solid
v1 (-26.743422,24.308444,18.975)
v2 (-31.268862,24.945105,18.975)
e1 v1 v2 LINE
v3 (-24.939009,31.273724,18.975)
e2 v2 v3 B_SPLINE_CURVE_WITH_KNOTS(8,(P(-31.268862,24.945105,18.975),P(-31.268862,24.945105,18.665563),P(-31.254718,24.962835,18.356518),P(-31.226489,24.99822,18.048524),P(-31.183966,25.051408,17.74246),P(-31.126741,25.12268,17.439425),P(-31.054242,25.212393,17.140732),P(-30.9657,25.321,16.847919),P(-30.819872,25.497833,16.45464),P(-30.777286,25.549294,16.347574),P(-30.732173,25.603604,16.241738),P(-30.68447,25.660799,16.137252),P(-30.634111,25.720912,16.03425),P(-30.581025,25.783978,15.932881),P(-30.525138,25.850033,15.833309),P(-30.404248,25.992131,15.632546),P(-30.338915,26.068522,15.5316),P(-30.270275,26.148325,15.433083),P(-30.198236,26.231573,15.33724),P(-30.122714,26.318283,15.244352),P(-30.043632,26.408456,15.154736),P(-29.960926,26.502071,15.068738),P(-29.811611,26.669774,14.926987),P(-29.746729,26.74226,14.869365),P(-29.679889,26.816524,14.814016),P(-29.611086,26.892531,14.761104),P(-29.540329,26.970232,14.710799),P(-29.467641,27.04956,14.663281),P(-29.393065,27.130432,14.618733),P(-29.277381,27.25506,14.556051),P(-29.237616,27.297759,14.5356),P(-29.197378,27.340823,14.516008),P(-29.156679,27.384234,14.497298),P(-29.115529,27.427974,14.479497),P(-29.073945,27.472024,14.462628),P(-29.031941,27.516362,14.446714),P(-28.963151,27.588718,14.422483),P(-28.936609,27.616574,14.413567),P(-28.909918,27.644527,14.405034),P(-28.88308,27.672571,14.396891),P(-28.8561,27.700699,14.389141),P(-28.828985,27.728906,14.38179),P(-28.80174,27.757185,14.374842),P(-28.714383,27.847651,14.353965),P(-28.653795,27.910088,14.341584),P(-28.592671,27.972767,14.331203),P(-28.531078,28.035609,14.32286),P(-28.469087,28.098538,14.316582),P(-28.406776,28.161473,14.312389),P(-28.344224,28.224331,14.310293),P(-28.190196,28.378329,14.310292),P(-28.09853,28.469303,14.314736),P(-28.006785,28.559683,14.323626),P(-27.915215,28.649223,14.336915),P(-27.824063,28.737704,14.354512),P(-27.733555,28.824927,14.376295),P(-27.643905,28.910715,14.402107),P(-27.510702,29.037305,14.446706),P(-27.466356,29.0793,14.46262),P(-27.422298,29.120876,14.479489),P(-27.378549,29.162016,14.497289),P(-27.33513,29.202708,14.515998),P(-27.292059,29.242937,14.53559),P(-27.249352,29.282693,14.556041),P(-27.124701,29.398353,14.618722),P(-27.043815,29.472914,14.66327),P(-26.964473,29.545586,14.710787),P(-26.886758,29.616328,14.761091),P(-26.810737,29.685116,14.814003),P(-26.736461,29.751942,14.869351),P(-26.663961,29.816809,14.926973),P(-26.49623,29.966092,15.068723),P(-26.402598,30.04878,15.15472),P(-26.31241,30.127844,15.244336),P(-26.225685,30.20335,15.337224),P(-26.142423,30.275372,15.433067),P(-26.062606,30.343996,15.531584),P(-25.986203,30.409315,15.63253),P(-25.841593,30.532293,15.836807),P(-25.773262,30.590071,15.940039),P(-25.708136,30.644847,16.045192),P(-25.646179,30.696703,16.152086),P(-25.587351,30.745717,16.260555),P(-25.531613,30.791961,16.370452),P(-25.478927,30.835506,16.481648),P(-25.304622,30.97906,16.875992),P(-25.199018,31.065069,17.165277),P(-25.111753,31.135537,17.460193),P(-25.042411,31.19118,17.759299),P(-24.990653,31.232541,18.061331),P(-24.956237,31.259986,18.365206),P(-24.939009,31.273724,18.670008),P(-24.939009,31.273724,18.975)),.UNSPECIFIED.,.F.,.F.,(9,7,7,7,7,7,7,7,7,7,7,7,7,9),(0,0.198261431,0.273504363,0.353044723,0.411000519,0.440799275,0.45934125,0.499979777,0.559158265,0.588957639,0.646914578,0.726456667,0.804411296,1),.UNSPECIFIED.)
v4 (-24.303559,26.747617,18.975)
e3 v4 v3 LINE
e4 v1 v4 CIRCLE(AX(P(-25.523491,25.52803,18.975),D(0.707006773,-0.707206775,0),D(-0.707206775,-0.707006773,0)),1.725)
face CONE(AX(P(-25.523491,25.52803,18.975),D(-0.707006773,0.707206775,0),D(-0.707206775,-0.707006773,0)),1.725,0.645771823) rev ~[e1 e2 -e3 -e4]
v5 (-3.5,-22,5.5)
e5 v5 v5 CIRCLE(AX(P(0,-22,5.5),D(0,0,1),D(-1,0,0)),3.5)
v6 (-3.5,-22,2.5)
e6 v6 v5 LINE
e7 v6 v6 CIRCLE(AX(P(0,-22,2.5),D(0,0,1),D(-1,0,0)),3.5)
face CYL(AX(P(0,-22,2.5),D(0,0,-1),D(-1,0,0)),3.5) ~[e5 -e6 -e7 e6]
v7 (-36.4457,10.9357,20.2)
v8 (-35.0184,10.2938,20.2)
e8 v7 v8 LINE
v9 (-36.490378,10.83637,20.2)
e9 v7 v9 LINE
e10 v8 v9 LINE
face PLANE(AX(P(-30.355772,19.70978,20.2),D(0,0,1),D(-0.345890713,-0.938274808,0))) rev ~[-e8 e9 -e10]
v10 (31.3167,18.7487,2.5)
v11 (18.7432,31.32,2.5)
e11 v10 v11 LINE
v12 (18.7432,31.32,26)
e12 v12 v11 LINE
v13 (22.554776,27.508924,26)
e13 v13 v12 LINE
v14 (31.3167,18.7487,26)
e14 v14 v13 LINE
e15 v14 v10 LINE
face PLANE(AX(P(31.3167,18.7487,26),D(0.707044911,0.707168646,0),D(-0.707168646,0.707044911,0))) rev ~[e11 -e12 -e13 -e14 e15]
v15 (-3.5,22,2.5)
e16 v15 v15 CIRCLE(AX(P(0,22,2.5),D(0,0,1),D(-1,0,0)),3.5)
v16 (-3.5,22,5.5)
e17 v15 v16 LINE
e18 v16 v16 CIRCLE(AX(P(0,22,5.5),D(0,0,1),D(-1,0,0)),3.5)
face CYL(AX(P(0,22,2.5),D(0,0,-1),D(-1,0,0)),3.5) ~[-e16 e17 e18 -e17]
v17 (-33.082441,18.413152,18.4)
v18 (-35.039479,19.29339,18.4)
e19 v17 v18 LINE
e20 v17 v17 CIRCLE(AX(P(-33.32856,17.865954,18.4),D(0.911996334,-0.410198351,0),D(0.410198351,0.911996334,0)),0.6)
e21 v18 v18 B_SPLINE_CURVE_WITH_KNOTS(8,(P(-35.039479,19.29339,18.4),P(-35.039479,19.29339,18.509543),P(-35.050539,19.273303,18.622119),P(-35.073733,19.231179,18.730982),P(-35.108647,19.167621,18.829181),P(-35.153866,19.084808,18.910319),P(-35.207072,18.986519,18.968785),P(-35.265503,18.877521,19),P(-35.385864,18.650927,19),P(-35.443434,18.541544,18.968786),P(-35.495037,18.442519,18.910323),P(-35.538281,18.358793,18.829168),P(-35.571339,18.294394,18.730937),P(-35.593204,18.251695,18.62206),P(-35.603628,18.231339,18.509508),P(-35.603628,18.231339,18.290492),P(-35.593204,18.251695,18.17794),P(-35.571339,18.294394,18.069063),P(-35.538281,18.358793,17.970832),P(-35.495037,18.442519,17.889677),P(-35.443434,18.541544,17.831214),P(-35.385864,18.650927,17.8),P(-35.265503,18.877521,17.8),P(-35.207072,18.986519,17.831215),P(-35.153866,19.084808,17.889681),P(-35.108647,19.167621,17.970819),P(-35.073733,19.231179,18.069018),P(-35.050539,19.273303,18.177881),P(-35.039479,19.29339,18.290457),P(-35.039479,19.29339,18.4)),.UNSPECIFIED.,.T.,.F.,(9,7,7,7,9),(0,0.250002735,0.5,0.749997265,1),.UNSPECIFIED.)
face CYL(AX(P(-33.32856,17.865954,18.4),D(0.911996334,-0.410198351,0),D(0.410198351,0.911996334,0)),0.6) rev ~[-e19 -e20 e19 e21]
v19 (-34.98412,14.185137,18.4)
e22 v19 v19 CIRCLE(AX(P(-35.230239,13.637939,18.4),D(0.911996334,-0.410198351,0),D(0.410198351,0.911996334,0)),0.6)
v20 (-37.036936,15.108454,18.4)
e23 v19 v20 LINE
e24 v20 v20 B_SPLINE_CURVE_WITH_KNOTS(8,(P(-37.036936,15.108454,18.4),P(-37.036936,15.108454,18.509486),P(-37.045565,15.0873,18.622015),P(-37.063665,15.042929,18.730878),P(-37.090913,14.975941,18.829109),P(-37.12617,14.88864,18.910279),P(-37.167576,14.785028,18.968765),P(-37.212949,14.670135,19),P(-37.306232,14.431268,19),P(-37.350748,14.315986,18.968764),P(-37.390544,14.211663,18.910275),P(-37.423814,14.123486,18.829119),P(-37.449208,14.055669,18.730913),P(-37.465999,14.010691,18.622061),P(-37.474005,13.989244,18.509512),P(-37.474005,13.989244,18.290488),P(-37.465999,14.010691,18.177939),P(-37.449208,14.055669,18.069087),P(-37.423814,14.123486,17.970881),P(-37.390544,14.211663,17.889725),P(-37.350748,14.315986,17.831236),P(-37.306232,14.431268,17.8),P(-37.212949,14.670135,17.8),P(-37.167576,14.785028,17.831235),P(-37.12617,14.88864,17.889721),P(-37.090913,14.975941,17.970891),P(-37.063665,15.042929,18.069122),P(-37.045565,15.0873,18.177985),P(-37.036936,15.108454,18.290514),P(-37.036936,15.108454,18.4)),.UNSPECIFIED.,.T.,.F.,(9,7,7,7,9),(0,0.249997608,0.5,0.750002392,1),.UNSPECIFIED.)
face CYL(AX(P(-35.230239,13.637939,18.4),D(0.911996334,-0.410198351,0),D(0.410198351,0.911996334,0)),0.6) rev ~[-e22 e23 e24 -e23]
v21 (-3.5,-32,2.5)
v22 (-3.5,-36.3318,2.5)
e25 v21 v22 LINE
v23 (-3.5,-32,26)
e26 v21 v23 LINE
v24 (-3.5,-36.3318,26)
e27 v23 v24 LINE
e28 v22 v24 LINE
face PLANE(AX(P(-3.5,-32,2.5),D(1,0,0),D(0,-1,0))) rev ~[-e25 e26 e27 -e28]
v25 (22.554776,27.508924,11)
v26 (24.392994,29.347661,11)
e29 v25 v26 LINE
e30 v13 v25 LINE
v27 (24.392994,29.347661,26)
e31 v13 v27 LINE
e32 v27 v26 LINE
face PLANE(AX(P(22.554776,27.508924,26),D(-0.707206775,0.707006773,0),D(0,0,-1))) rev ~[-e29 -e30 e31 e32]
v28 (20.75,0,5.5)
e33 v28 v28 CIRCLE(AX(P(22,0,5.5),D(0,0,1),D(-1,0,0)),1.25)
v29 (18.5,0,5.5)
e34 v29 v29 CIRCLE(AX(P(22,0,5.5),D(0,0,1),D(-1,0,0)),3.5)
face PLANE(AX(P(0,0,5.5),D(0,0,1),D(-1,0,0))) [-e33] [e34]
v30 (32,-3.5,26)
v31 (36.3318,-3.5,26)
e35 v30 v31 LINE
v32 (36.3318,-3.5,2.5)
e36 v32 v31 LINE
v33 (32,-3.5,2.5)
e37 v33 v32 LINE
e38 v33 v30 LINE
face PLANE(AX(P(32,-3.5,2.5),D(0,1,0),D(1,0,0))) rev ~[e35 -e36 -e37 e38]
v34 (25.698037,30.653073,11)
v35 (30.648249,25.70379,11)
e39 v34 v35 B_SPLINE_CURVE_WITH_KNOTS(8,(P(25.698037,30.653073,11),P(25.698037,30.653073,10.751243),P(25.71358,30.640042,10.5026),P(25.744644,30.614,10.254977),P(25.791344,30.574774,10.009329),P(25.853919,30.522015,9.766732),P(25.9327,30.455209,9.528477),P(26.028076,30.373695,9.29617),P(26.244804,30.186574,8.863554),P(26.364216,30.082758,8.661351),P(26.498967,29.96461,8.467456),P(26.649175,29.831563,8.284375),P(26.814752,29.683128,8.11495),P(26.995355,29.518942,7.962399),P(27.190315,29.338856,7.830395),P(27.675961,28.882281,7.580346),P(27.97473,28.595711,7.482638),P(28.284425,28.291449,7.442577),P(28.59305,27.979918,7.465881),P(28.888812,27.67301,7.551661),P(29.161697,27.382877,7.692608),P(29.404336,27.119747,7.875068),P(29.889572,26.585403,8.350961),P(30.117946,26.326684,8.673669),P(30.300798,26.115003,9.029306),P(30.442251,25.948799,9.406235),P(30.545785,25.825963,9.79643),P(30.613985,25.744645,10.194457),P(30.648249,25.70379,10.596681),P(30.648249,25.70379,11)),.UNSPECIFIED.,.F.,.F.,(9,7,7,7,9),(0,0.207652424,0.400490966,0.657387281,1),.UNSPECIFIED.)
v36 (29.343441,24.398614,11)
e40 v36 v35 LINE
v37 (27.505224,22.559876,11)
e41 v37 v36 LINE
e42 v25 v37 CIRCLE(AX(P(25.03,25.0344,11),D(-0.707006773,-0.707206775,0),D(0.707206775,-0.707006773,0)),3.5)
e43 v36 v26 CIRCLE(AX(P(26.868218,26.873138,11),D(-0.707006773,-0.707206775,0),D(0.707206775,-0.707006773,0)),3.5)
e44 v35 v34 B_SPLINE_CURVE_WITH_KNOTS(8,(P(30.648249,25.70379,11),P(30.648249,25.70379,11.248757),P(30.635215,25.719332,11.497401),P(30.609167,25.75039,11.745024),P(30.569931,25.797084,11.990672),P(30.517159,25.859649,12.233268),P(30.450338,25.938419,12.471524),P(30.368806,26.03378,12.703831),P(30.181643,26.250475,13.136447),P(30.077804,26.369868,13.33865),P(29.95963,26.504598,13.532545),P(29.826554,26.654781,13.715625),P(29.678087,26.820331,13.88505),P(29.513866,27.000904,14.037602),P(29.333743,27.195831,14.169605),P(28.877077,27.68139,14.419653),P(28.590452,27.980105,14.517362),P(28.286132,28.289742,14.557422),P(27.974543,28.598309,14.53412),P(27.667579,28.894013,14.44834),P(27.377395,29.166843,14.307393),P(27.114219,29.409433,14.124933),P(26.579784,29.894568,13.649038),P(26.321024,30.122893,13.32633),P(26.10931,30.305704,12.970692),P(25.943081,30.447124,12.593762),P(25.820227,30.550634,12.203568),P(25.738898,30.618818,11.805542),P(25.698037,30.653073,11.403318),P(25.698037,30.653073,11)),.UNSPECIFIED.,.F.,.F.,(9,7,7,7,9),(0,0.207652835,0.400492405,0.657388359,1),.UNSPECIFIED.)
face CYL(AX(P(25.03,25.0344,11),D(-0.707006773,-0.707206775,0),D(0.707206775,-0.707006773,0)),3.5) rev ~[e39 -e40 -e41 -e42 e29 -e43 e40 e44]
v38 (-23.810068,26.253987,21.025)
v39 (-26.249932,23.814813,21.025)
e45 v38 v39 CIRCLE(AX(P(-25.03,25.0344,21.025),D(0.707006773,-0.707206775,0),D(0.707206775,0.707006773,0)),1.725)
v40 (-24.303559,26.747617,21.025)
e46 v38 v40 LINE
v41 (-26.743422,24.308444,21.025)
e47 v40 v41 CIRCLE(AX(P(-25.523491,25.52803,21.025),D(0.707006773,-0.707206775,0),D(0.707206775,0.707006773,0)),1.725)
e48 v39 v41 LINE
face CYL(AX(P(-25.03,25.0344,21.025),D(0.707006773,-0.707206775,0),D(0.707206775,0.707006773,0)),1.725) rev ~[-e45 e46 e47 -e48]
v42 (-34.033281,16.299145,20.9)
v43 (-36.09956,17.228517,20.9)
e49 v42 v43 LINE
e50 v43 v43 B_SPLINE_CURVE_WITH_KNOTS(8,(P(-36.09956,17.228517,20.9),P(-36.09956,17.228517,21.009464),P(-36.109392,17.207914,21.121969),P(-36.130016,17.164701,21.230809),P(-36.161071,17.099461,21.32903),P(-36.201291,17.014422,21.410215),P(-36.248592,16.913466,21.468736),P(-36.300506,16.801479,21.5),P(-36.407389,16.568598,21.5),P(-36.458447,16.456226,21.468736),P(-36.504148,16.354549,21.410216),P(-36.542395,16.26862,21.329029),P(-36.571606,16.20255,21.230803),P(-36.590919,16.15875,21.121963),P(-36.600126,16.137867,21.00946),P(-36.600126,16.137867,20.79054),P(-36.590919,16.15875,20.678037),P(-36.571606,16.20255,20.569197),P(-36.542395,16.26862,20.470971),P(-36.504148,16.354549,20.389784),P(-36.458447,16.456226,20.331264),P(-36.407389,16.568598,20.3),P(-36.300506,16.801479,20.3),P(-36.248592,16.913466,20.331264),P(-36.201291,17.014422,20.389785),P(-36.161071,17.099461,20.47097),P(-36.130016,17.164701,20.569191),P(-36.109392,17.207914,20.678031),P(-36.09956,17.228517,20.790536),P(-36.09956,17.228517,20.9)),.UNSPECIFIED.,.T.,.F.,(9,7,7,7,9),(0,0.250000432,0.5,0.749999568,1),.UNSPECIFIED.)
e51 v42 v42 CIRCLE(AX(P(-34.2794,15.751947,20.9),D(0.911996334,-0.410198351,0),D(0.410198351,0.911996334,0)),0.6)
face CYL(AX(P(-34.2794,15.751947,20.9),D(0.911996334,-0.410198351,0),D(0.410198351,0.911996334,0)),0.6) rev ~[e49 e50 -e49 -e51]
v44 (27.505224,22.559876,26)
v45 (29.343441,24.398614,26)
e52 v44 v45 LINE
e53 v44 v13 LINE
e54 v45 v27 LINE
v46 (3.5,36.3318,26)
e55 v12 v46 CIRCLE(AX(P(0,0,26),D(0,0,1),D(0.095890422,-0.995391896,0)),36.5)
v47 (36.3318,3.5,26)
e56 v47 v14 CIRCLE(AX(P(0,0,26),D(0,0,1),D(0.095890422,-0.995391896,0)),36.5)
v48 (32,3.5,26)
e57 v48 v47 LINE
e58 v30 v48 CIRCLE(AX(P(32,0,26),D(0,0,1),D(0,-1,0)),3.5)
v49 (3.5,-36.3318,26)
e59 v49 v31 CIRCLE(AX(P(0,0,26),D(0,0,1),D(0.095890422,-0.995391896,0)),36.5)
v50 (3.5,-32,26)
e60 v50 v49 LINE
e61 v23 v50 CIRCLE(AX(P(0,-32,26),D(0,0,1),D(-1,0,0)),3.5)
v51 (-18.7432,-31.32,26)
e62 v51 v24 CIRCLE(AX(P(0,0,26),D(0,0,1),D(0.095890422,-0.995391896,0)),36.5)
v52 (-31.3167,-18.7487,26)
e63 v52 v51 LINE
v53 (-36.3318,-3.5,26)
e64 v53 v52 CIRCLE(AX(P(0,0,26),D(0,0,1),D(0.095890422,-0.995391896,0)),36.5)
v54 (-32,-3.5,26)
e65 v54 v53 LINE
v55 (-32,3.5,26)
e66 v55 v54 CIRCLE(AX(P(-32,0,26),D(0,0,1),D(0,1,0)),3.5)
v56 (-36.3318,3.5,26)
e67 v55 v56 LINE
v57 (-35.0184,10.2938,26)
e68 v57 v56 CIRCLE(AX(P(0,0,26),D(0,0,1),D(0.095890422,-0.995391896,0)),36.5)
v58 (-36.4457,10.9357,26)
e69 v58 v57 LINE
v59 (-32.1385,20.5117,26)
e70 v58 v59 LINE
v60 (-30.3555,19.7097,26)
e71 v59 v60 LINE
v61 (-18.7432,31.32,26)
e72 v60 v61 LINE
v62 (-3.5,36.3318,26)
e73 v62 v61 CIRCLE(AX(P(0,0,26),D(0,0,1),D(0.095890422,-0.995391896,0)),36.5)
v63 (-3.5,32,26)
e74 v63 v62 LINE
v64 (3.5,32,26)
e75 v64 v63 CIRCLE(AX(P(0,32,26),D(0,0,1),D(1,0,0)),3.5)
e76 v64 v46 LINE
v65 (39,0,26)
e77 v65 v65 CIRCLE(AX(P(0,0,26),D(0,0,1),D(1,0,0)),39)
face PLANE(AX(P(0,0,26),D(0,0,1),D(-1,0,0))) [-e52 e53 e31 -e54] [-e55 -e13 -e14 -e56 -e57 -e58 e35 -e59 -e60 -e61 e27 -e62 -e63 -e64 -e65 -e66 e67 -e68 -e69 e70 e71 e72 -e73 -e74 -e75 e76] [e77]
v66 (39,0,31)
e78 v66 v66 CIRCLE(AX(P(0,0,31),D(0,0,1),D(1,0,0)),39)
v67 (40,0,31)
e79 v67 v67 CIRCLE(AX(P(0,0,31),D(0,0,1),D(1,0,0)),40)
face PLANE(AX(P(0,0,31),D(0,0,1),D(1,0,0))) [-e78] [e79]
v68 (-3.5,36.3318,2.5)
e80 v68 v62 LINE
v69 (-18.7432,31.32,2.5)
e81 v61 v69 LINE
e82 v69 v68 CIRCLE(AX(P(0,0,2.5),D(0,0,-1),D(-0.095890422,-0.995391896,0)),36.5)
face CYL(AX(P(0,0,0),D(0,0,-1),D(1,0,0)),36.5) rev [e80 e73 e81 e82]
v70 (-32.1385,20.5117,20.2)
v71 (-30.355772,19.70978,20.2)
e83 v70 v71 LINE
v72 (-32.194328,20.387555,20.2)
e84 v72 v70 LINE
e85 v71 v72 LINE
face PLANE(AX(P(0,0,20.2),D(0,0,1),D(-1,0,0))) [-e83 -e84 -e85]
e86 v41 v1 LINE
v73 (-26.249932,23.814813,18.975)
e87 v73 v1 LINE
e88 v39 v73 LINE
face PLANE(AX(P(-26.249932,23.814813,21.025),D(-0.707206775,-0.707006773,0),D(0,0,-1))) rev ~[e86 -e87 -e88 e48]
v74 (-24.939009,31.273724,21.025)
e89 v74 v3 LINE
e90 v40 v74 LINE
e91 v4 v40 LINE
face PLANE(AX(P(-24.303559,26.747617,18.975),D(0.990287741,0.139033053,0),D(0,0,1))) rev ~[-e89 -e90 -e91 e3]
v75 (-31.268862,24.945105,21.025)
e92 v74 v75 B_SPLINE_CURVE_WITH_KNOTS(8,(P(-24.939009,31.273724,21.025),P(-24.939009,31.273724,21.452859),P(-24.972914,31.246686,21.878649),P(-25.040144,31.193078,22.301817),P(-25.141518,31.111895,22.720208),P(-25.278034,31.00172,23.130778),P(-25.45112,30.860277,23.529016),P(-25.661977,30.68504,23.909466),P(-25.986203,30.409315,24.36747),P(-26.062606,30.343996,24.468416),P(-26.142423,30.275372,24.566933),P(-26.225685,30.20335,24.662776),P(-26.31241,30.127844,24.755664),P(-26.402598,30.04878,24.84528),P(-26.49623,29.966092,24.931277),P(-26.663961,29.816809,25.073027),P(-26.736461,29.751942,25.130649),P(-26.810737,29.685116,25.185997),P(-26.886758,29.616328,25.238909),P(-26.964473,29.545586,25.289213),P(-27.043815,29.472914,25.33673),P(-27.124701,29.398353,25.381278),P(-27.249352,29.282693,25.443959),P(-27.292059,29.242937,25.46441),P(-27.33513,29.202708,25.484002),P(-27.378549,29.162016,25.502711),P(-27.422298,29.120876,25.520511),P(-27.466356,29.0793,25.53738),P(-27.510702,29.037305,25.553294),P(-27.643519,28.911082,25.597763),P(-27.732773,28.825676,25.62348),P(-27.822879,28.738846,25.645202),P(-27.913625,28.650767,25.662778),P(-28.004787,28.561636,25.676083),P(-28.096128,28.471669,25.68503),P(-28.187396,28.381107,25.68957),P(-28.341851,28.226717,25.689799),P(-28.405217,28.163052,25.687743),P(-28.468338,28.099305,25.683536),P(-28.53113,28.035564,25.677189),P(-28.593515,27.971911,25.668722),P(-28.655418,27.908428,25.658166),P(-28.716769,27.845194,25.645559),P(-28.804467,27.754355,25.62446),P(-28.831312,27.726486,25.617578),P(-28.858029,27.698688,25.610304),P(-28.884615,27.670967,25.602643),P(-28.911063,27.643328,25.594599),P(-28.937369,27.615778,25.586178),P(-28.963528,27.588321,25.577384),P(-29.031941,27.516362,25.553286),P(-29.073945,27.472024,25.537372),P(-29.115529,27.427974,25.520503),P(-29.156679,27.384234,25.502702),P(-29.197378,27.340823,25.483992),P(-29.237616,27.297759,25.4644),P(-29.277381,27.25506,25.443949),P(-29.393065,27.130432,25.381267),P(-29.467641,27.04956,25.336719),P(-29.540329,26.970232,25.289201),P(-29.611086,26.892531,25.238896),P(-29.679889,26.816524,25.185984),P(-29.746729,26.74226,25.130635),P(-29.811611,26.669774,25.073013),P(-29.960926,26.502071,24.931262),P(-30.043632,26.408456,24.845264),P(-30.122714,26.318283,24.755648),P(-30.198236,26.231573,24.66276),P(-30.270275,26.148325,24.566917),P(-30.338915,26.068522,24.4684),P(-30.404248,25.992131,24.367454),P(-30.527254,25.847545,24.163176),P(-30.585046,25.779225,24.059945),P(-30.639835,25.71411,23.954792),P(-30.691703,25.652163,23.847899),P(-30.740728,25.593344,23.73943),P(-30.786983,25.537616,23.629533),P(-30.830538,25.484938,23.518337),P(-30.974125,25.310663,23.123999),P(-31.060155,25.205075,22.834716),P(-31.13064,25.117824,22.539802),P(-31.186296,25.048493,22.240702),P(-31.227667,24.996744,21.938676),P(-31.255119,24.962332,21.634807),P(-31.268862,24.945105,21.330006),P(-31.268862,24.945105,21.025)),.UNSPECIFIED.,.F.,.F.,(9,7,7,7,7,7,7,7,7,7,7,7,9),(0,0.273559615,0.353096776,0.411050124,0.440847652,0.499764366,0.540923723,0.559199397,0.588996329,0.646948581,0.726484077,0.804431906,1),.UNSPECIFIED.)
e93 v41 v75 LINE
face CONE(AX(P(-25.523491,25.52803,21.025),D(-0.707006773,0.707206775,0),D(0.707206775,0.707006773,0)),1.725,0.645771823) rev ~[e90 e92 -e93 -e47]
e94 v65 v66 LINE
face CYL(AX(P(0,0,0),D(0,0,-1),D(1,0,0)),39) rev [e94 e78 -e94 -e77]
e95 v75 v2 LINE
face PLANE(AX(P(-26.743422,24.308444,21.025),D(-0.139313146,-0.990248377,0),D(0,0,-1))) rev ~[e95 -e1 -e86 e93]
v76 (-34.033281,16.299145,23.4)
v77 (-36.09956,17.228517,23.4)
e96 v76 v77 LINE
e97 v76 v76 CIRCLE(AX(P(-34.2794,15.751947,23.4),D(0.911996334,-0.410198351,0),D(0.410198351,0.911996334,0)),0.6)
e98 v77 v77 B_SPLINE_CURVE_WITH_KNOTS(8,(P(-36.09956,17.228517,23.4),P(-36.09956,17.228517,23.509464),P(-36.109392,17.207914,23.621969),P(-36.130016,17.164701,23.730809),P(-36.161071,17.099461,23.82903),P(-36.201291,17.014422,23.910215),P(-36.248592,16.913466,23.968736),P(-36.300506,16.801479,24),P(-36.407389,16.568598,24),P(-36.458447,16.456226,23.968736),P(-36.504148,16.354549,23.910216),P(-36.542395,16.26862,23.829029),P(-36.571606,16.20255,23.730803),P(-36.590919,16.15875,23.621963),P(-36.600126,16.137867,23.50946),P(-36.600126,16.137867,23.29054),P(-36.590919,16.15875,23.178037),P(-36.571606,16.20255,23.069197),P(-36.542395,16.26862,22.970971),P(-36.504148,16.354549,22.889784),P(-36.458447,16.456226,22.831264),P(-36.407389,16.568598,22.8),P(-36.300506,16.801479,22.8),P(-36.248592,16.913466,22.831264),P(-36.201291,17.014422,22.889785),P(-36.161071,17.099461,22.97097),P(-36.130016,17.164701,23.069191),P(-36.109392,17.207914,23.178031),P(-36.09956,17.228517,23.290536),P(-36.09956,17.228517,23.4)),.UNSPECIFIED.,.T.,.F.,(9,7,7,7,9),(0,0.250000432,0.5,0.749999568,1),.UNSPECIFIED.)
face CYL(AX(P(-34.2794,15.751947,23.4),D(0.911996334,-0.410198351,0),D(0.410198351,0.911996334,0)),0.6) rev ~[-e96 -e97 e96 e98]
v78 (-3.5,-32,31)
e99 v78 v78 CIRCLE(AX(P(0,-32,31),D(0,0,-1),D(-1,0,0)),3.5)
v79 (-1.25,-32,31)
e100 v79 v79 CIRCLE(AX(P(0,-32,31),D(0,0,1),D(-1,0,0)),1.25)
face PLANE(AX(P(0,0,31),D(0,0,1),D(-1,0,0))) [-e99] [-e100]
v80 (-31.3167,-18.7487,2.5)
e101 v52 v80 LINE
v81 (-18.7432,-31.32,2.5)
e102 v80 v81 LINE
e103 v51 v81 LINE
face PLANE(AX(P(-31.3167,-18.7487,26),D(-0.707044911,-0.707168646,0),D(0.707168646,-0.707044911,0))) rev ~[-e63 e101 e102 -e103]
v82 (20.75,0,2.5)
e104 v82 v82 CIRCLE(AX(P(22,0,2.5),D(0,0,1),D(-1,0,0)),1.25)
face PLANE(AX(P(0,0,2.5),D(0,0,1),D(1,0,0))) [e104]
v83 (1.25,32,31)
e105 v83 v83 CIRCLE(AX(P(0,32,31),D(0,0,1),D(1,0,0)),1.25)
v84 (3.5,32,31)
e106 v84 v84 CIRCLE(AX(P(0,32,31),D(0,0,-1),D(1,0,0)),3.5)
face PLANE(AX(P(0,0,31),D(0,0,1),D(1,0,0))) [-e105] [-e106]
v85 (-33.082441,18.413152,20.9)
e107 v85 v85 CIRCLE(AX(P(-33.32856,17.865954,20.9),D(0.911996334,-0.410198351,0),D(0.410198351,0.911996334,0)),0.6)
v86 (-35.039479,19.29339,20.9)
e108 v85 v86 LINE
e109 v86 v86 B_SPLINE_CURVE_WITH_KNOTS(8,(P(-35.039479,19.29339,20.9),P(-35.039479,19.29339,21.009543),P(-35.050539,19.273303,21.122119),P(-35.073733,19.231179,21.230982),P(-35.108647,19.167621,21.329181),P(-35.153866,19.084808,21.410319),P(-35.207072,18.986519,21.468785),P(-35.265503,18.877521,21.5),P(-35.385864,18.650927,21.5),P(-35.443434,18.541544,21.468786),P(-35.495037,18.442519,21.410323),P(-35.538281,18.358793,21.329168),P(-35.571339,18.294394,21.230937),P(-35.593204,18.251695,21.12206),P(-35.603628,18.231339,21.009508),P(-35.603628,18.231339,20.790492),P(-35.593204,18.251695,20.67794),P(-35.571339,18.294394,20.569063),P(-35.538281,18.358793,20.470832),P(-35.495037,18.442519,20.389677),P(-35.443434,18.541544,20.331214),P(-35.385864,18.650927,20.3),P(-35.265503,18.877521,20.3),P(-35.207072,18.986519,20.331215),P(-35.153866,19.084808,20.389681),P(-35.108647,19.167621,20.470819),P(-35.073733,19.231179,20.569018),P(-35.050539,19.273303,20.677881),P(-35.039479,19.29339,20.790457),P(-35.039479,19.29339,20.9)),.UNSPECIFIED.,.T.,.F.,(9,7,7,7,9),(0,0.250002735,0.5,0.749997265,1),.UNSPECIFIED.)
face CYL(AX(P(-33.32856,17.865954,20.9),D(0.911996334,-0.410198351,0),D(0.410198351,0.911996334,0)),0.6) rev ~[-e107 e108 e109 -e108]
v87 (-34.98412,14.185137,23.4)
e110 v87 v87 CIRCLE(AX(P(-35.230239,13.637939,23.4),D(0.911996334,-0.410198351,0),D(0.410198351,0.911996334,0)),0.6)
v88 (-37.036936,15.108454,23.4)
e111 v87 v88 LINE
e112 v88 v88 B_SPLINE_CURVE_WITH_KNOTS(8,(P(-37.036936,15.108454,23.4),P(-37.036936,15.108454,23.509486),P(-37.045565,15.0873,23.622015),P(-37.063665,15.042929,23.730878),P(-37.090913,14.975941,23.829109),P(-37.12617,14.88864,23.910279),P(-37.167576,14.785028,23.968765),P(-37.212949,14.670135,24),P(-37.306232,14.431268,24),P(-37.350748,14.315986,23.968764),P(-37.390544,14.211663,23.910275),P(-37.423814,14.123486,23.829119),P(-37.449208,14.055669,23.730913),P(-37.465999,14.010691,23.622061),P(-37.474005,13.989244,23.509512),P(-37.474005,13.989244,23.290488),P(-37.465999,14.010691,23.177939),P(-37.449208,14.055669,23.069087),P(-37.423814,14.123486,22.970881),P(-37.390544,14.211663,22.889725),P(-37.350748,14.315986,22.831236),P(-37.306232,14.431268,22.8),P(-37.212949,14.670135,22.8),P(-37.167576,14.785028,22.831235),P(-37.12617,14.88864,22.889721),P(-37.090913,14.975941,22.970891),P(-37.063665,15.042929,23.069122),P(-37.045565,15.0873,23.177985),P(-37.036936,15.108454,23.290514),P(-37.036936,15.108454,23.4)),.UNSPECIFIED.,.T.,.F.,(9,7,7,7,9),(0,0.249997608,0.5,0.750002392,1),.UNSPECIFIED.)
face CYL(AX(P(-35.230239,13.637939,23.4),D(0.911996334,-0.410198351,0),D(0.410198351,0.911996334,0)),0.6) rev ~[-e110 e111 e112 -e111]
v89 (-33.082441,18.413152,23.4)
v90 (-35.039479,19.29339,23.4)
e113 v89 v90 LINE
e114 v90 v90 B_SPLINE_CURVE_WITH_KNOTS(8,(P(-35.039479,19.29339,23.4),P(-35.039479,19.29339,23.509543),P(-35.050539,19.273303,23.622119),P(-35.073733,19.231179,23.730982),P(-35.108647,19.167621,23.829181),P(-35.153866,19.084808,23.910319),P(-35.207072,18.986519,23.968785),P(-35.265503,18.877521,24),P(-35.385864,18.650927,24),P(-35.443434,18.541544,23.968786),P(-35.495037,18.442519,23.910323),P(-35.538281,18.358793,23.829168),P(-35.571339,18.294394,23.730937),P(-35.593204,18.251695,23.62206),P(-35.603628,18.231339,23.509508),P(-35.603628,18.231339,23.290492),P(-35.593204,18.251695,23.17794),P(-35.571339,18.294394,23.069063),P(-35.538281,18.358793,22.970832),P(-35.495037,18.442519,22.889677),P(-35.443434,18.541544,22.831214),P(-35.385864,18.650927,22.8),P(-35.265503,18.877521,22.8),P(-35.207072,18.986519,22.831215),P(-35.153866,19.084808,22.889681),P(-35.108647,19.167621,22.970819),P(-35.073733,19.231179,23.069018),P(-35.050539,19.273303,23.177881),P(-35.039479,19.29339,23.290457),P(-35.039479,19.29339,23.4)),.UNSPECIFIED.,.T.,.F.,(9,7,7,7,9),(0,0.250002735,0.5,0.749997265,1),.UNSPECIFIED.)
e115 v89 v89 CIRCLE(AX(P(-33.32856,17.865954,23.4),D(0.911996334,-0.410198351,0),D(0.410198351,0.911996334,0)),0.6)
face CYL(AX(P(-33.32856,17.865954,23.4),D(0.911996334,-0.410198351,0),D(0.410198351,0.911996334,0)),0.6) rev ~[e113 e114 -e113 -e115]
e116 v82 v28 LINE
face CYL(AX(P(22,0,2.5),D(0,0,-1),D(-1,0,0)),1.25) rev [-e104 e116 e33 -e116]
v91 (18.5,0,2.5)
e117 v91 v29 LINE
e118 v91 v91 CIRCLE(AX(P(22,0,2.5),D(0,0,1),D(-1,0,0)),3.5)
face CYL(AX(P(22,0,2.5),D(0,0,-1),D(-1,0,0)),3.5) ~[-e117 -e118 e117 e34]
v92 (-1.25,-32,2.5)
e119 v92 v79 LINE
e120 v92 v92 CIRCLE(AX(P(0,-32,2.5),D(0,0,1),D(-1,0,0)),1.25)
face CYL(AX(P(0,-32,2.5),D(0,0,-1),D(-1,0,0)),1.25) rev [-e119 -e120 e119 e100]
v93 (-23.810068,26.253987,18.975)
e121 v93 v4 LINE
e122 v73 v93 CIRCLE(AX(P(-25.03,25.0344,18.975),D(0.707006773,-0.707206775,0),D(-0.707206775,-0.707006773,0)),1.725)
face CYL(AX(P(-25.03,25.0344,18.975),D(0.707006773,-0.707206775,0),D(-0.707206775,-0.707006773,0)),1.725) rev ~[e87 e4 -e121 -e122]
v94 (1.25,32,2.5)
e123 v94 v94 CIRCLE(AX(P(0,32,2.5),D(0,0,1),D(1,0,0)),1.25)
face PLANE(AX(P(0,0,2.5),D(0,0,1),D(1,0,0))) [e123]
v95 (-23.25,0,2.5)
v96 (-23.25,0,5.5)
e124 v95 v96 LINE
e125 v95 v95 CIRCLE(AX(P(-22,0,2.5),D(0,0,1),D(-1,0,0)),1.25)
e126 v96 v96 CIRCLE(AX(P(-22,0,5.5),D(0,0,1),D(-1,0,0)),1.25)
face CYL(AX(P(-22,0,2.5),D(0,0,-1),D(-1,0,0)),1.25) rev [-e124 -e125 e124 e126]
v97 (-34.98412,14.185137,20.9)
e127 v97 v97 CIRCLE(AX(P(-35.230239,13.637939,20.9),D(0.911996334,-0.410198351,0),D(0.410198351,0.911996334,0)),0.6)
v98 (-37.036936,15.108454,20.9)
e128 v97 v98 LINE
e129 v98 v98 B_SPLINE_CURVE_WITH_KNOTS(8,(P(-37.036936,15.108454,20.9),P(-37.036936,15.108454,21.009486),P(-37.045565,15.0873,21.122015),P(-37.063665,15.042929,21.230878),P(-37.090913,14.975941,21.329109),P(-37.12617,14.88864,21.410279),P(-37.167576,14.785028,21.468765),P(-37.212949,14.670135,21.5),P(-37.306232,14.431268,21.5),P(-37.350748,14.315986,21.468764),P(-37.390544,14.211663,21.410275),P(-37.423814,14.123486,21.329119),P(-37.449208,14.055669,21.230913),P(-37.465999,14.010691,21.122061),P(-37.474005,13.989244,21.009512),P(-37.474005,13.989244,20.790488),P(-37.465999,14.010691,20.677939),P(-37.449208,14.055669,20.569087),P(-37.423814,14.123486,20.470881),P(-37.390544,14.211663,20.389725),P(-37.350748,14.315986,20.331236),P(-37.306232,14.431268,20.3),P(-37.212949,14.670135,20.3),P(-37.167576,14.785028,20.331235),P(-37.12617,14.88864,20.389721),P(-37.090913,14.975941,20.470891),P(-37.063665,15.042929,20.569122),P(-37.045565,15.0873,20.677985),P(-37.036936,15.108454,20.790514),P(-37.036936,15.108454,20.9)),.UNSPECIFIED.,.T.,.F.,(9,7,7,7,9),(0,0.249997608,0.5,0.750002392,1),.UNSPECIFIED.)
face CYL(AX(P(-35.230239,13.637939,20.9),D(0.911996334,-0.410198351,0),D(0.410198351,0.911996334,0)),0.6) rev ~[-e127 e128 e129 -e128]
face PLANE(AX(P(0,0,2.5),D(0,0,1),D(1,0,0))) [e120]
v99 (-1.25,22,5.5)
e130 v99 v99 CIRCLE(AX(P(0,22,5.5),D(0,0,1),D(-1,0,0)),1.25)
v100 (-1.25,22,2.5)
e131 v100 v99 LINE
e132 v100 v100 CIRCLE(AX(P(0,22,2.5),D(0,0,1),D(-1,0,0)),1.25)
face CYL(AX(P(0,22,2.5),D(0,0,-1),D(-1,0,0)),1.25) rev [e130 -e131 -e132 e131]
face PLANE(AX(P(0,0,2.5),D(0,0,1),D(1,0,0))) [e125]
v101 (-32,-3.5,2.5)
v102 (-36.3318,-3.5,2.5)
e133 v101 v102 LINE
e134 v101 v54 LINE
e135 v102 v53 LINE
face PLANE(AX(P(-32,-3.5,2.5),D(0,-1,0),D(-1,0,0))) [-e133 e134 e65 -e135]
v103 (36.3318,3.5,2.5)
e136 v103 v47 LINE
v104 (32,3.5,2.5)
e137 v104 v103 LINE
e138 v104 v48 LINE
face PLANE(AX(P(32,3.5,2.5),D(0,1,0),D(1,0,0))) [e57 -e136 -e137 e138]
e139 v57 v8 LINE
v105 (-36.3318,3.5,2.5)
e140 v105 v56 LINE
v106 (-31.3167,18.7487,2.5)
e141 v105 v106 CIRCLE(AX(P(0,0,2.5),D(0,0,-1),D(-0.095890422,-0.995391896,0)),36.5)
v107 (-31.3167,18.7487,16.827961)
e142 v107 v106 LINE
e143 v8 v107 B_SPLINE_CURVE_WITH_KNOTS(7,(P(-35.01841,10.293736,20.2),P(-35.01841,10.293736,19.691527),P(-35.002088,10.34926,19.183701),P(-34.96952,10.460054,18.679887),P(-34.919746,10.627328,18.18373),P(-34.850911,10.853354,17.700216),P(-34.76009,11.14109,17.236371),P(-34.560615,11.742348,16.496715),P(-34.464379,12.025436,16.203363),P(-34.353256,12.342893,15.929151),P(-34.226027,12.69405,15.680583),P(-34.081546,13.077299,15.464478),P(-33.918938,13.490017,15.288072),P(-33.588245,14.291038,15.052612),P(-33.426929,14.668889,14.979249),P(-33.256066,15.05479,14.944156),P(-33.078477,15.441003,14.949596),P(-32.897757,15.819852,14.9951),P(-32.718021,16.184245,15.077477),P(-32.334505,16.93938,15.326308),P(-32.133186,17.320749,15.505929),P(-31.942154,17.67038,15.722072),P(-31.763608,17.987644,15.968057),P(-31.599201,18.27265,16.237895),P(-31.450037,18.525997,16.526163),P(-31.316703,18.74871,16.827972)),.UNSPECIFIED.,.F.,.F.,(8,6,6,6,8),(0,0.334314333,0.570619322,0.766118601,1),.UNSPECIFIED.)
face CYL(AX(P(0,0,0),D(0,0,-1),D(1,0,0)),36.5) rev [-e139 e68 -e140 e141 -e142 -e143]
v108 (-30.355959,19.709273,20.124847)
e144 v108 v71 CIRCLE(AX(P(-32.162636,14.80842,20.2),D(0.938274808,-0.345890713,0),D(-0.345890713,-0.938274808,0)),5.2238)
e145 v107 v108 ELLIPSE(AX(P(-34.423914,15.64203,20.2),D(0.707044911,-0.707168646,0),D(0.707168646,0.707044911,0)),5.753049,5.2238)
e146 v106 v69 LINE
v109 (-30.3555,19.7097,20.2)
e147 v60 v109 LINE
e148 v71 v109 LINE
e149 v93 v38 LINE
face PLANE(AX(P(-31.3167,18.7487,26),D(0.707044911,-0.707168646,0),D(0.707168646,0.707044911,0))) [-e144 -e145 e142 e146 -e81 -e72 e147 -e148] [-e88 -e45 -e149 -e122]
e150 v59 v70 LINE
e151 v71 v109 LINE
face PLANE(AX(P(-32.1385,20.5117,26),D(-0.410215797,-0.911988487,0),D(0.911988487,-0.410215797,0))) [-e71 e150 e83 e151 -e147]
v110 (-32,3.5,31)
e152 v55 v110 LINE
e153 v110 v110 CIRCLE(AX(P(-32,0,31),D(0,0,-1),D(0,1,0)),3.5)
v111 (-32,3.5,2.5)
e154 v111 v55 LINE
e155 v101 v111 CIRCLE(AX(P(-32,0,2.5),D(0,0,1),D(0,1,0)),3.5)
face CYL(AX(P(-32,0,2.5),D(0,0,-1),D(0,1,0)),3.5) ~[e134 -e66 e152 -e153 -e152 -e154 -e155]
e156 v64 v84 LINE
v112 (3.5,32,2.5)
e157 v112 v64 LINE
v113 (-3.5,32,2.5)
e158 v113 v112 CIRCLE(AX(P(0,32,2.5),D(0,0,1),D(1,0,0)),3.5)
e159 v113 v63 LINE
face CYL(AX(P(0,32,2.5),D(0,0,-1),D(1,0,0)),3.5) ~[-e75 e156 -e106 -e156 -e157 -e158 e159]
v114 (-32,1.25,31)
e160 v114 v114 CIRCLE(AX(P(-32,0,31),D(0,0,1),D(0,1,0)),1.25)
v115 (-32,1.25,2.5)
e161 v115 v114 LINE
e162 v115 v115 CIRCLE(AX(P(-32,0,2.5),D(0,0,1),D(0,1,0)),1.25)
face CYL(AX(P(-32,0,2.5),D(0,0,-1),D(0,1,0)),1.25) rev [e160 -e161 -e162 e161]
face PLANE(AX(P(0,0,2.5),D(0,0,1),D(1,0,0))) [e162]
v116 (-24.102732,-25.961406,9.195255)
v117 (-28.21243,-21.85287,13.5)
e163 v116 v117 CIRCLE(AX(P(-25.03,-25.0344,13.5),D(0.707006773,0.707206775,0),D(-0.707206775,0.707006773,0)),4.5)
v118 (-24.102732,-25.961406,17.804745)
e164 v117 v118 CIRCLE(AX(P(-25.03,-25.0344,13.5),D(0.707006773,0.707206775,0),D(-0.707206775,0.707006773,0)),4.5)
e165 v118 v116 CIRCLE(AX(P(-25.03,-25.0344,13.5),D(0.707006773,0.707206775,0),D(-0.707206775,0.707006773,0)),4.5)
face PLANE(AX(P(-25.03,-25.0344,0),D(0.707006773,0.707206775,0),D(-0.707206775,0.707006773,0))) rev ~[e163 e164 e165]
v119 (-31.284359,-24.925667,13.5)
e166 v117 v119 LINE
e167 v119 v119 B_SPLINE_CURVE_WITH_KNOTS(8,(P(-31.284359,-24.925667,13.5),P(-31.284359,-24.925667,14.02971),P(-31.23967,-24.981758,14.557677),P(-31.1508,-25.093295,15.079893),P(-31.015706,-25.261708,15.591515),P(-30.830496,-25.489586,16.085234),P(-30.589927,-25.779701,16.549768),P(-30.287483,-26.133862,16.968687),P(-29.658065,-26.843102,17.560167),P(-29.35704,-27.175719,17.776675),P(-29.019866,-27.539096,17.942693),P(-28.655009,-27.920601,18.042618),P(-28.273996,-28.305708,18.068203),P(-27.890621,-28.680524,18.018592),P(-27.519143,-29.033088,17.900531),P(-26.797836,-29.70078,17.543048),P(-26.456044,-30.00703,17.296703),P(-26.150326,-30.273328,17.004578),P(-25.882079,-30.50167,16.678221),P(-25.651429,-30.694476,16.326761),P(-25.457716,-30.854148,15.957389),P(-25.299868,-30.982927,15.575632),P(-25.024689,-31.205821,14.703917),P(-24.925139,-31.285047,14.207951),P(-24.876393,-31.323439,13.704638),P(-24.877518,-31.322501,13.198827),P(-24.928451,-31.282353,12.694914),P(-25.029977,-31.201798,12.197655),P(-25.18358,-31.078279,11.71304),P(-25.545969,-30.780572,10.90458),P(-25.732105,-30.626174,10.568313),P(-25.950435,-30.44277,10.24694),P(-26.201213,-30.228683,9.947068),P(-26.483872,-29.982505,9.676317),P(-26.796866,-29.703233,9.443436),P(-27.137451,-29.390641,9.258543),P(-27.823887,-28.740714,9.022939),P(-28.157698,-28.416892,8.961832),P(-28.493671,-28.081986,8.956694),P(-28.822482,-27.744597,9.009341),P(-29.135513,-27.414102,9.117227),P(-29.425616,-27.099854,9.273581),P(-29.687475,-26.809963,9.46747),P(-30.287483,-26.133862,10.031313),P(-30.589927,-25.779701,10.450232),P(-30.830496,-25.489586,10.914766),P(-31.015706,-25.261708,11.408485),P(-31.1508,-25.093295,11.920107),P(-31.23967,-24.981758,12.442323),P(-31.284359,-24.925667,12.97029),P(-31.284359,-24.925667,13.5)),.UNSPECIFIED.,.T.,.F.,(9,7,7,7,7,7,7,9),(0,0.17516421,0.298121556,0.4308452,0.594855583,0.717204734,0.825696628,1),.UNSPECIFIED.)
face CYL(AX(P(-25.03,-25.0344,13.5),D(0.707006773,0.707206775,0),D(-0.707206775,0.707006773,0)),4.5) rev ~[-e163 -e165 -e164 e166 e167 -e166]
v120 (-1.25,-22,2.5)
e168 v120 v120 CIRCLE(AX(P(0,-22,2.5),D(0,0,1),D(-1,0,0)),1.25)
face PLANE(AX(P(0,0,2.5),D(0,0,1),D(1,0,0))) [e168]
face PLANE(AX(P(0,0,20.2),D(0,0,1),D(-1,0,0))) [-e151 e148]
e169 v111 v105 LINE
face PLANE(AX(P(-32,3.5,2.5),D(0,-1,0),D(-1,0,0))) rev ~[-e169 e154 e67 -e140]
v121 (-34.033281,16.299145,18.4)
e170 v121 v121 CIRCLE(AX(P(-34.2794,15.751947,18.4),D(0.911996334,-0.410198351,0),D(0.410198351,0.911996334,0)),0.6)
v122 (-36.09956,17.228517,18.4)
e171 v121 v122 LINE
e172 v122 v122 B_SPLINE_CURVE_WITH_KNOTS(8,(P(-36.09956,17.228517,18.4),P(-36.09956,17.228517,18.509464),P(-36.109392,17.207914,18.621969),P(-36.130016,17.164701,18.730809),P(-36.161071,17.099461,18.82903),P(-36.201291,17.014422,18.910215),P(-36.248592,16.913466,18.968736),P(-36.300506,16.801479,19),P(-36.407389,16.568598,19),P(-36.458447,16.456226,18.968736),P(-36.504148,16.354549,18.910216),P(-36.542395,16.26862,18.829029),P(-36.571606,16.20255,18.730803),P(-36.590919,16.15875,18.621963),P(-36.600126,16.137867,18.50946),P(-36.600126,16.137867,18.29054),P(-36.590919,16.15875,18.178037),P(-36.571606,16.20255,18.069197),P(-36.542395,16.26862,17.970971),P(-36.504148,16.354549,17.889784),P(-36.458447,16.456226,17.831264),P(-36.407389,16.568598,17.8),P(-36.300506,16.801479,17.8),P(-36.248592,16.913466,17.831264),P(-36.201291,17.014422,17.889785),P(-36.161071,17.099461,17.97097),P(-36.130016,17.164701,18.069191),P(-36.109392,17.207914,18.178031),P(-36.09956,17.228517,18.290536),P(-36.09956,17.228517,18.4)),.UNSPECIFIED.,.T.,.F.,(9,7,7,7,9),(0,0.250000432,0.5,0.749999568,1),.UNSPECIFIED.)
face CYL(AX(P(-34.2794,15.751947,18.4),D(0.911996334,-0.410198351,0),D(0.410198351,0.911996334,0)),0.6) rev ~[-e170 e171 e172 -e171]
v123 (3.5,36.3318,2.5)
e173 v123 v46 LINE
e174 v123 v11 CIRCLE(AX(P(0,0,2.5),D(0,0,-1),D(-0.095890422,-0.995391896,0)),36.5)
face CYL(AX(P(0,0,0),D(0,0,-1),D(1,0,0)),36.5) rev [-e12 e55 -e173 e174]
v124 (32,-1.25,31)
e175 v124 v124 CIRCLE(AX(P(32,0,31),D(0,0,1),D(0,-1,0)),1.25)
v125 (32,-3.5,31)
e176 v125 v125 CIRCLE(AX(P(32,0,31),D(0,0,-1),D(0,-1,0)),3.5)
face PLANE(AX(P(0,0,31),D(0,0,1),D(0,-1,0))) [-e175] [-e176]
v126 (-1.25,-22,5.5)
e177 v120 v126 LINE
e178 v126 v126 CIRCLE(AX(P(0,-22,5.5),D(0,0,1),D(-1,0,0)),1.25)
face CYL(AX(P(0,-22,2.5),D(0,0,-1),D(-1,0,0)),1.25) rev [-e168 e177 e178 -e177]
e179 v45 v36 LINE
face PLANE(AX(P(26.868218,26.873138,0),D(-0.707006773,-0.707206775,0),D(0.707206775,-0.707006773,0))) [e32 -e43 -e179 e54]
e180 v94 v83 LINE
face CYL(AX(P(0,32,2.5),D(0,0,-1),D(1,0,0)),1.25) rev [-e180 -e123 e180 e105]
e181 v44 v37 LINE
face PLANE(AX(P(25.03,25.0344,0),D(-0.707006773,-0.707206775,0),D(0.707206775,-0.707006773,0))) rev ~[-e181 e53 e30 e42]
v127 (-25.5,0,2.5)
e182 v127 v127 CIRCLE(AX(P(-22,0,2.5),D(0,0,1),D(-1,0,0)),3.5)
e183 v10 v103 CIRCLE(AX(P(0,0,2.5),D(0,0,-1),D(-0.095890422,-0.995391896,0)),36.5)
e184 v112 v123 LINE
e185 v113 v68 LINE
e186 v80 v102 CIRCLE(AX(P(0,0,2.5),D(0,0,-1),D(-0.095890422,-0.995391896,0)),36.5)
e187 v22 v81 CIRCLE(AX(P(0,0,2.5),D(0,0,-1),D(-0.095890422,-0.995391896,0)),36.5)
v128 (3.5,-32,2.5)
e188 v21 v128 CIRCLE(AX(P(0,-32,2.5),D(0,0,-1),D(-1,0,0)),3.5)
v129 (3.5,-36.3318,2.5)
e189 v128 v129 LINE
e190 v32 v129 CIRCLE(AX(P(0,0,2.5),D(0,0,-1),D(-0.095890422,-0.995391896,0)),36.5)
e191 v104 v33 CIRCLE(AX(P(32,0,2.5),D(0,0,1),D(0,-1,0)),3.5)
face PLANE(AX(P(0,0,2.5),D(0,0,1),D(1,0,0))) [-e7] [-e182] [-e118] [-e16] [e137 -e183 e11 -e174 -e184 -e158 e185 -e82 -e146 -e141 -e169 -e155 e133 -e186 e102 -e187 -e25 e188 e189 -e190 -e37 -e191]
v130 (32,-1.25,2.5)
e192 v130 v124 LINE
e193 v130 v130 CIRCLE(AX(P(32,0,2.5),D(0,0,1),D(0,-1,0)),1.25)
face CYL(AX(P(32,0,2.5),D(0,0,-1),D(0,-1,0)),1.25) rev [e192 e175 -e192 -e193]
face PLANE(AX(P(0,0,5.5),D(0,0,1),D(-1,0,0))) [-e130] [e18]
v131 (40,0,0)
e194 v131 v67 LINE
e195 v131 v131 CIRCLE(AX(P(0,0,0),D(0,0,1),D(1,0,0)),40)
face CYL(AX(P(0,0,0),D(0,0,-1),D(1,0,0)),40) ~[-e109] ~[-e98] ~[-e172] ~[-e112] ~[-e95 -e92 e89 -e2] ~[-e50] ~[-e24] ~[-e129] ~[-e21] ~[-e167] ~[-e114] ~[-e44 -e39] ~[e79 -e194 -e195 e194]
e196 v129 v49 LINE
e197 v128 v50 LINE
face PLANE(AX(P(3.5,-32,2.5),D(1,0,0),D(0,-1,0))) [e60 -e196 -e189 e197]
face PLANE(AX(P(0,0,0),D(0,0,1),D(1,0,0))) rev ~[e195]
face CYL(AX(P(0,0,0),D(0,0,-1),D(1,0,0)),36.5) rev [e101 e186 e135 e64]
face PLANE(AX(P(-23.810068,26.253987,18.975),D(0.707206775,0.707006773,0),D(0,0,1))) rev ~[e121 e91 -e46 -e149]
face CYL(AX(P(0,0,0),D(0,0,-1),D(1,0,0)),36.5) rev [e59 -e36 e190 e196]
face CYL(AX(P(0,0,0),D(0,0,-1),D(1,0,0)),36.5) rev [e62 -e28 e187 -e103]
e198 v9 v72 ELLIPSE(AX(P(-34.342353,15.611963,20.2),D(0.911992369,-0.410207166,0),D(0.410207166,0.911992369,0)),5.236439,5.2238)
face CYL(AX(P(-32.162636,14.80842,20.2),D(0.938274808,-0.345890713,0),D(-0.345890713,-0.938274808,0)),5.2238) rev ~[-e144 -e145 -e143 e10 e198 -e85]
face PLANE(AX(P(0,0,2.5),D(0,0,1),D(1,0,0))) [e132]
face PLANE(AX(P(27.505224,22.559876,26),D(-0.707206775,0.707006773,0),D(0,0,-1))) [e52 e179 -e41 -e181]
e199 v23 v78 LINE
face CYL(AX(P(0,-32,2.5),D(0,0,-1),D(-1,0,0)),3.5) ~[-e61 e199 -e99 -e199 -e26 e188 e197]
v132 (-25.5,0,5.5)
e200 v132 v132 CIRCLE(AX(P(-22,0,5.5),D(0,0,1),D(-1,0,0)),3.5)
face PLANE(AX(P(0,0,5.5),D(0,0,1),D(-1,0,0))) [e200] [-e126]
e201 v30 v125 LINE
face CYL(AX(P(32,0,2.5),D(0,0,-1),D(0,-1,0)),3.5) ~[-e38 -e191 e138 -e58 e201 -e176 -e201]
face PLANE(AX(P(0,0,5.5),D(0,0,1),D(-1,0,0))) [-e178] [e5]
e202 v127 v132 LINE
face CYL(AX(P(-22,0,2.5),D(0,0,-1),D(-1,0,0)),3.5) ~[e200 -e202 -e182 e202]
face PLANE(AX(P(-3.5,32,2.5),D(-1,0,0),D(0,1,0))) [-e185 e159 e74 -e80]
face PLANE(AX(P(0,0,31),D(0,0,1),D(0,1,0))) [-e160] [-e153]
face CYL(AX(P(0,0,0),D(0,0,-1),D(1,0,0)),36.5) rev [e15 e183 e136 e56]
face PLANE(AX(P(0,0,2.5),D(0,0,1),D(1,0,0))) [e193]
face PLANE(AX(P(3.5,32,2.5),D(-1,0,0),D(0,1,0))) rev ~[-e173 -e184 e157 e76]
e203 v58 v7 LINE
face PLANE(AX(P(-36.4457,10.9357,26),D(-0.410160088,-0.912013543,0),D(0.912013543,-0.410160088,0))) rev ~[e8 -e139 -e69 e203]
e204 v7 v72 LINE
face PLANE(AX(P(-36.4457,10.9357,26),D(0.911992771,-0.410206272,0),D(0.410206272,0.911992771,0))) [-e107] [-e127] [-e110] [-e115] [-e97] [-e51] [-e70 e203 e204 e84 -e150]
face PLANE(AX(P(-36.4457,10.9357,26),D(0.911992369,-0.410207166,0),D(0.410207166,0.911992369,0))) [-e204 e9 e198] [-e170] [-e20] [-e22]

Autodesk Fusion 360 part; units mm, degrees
sketch "Sketch1" plane through (0, 0, 0) normal (0, 0, 1) x (1, 0, 0)
  circle A0 centre (0, 0) radius 40
  circle A1 centre (0, 0) radius 39
  dimension "d1" = 80
  dimension "d2" = 78
extrude "Extrude1" add sketch "Sketch1" along normal blind 31
sketch "Sketch2" plane through (0, 0, 0) normal (0, 0, 1) x (1, 0, 0)
  circle A0 centre (0, 0) radius 39
  circle A1 centre (0, 0) radius 36.5
  dimension "d5" = 78
  dimension "d6" = 73
extrude "Extrude2" add sketch "Sketch2" along normal blind 2.5 contours A0 | A1
extrude "Extrude3" add sketch "Sketch2" along normal blind 26
sketch "Sketch3" plane through (0, 0, 2.5) normal (0, 0, 1) x (-1, 0, 0)
  circle A0 centre (0, 0) radius 36.5
  circle A1 centre (0, 22) radius 3.5
  circle A2 centre (0, 22) radius 1.25
  circle A3 centre (-22, 0) radius 3.5
  circle A4 centre (-22, 0) radius 1.25
  circle A5 centre (0, -22) radius 3.5
  circle A6 centre (0, -22) radius 1.25
  circle A7 centre (22, 0) radius 3.5
  circle A8 centre (22, 0) radius 1.25
  dimension "d11" = 7
  dimension "d12" = 2.5
  dimension "d13" = 22
  dimension "d15" = 360
extrude "Extrude4" add sketch "Sketch3" along normal blind 3 contours A1 | A3 | A5 | A7
sketch "Sketch4" plane through (0, 0, 2.5) normal (0, 0, 1) x (-1, 0, 0)
  circle A0 centre (0, -22) radius 3.5
  circle A1 centre (-22, 0) radius 3.5
  circle A2 centre (0, 0) radius 36.5
  circle A3 centre (22, 0) radius 3.5
  circle A4 centre (0, 22) radius 3.5
  circle A5 centre (0, 32) radius 3.5
  circle A6 centre (0, 32) radius 1.25
  circle A7 centre (0, 0) radius 36.5
  line L0 (-3.5, 32) -> (-3.5, 36.3318)
  line L1 (3.5, 32) -> (3.5, 36.3318)
  dimension "d18" = 7
  dimension "d19" = 2.5
  dimension "d20" = 32
extrude "Extrude5" add sketch "Sketch4" along normal blind 28.5 contours A5
extrude "Extrude6" add sketch "Sketch4" along normal blind 23.5 contours A2 A5 A7 L0 L1 picked at (-2.1394, 35.9481)
pattern_circular "C-Pattern1" count 4 over 360 about axis through (0, 0, 1.75) along (0, 0, 1) of "Extrude6", "Extrude5"
sketch "Sketch5" plane through (0, 0, 26) normal (0, 0, 1) x (-1, 0, 0)
  arc A0 (36.3318, 3.5) -> (3.5, 36.3318) centre (0, 0) ccw
  circle A1 centre (0, 0) radius 39
  arc A2 (3.5, -36.3318) -> (36.3318, -3.5) centre (0, 0) ccw
  arc A3 (-36.3318, -3.5) -> (-3.5, -36.3318) centre (0, 0) ccw
  arc A4 (-3.5, 36.3318) -> (-36.3318, 3.5) centre (0, 0) ccw
  arc A5 (36.3318, 3.5) -> (3.5, 36.3318) centre (0, 0) ccw
  line L0 (31.3167, -18.7487) -> (18.7432, -31.32)
  line L1 (0, 0) -> (0, -13.7257) construction
  line L2 (0, 0) -> (13.0082, 0) construction
  line L3 (-31.3167, -18.7487) -> (-18.7432, -31.32)
  line L4 (31.3167, 18.7487) -> (18.7432, 31.32)
  line L5 (36.3318, 3.5) -> (32, 3.5)
  arc A6 (32, -3.5) -> (32, 3.5) centre (32, 0) ccw
  line L6 (32, -3.5) -> (36.3318, -3.5)
  arc A7 (3.5, -36.3318) -> (36.3318, -3.5) centre (0, 0) ccw
  line L7 (3.5, -36.3318) -> (3.5, -32)
  arc A8 (-3.5, -32) -> (3.5, -32) centre (0, -32) ccw
  line L8 (-3.5, -32) -> (-3.5, -36.3318)
  arc A9 (-36.3318, -3.5) -> (-3.5, -36.3318) centre (0, 0) ccw
  line L9 (-36.3318, -3.5) -> (-32, -3.5)
  arc A10 (-32, 3.5) -> (-32, -3.5) centre (-32, 0) ccw
  line L10 (-32, 3.5) -> (-36.3318, 3.5)
  arc A11 (-3.5, 36.3318) -> (-36.3318, 3.5) centre (0, 0) ccw
  line L11 (-3.5, 36.3318) -> (-3.5, 32)
  arc A12 (3.5, 32) -> (-3.5, 32) centre (0, 32) ccw
  line L12 (3.5, 32) -> (3.5, 36.3318)
  dimension "d27" = 17.78
  dimension "d28" = 16.046
extrude "Extrude7" add sketch "Sketch5" against normal blind 23.5 contours A0 A5 L4 | A2 L0 A7 | A3 L3 A9
sketch "Sketch6" plane through (-25.03, -25.0344, 0) normal (0.707, 0.7072, 0) x (-0.7072, 0.707, 0)
  line L0 (-8.89, 2.5) -> (8.89, 2.5)
  line L1 (8.89, 2.5) -> (8.89, 26)
  line L2 (8.89, 26) -> (-8.89, 26)
  line L3 (-8.89, 26) -> (-8.89, 2.5)
  circle A0 centre (0, 13.5) radius 4.5
  dimension "d31" = 9
  dimension "d32" = 13.5
extrude "Extrude8" cut sketch "Sketch6" against normal through all contours A0
sketch "Sketch7" plane through (-25.03, 25.0344, 0) normal (0.707, -0.7072, 0) x (0.7072, 0.707, 0)
  line L0 (-8.89, 2.5) -> (8.89, 2.5)
  line L1 (8.89, 2.5) -> (8.89, 26)
  line L2 (8.89, 26) -> (-8.89, 26)
  line L3 (-8.89, 26) -> (-8.89, 2.5)
  line L4 (-1.725, 21.025) -> (-1.725, 18.975)
  arc A0 (-1.725, 18.975) -> (1.725, 18.975) centre (0, 18.975) ccw
  line L5 (1.725, 18.975) -> (1.725, 21.025)
  arc A1 (1.725, 21.025) -> (-1.725, 21.025) centre (0, 21.025) ccw
  line L6 (0, 22.75) -> (0, 17.25) construction
  dimension "d34" = 3.45
  dimension "d35" = 5.5
  dimension "d36" = 14.75
extrude "Extrude9" cut sketch "Sketch7" against normal blind 0.698 contours L4 A0 L5 A1
extrude "Extrude10" cut sketch "Sketch7" against normal through all draft 37 from surface at -0.698 contours L4 A0 L5 A1
sketch "Sketch8" plane through (25.03, 25.0344, 0) normal (-0.707, -0.7072, 0) x (0.7072, -0.707, 0)
  line L0 (8.89, 26) -> (-8.89, 26)
  line L1 (-8.89, 26) -> (-8.89, 2.5)
  line L2 (-8.89, 2.5) -> (8.89, 2.5)
  line L3 (8.89, 2.5) -> (8.89, 26)
  circle A0 centre (0, 11) radius 3.5
  line L4 (-3.5, 26) -> (-3.5, 11)
  line L5 (3.5, 26) -> (3.5, 11)
  dimension "d41" = 7
  dimension "d42" = 11
extrude "Extrude11" cut sketch "Sketch8" against normal blind 2.6 contours L0 A0 L4 L5 | A0
extrude "Extrude12" cut sketch "Sketch8" against normal blind 4.6 contours A0
sketch "Sketch9" plane through (0, 0, 26) normal (0, 0, 1) x (-1, 0, 0)
  circle A0 centre (0, 0) radius 39
  line L0 (-22.5549, -27.509) -> (-24.3932, -29.3477)
  line L1 (-24.3932, -29.3477) -> (-29.3434, -24.3983)
  line L2 (-29.3434, -24.3983) -> (-27.505, -22.5597)
  line L3 (-27.505, -22.5597) -> (-31.3167, -18.7487)
  arc A1 (-36.3318, -3.5) -> (-31.3167, -18.7487) centre (0, 0) ccw
  line L4 (-36.3318, -3.5) -> (-32, -3.5)
  arc A2 (-32, 3.5) -> (-32, -3.5) centre (-32, 0) ccw
  line L5 (-32, 3.5) -> (-36.3318, 3.5)
  arc A3 (-3.5, 36.3318) -> (-36.3318, 3.5) centre (0, 0) ccw
  line L6 (-3.5, 36.3318) -> (-3.5, 32)
  arc A4 (3.5, 32) -> (-3.5, 32) centre (0, 32) ccw
  line L7 (3.5, 32) -> (3.5, 36.3318)
  arc A5 (18.7432, 31.32) -> (3.5, 36.3318) centre (0, 0) ccw
  line L8 (18.7432, 31.32) -> (31.3167, 18.7487)
  arc A6 (36.3318, 3.5) -> (31.3167, 18.7487) centre (0, 0) ccw
  line L9 (36.3318, 3.5) -> (32, 3.5)
  arc A7 (32, -3.5) -> (32, 3.5) centre (32, 0) ccw
  line L10 (32, -3.5) -> (36.3318, -3.5)
  arc A8 (31.3167, -18.7487) -> (36.3318, -3.5) centre (0, 0) ccw
  line L11 (31.3167, -18.7487) -> (18.7432, -31.32)
  arc A9 (3.5, -36.3318) -> (18.7432, -31.32) centre (0, 0) ccw
  line L12 (3.5, -36.3318) -> (3.5, -32)
  arc A10 (-3.5, -32) -> (3.5, -32) centre (0, -32) ccw
  line L13 (-3.5, -32) -> (-3.5, -36.3318)
  arc A11 (-18.7432, -31.32) -> (-3.5, -36.3318) centre (0, 0) ccw
  line L14 (-18.7432, -31.32) -> (-22.5549, -27.509)
  line L15 (31.3167, -18.7487) -> (18.7432, -31.32)
  arc A12 (31.3167, -18.7487) -> (36.3318, -3.5) centre (0, 0) ccw
  arc A13 (3.5, -36.3318) -> (18.7432, -31.32) centre (0, 0) ccw
  line L16 (36.4457, -10.9357) -> (32.1385, -20.5117)
  line L17 (32.1385, -20.5117) -> (30.3555, -19.7097)
  line L18 (36.4457, -10.9357) -> (35.0184, -10.2938)
  dimension "d50" = 10.5
  dimension "d51" = 17.212
  dimension "d52" = 1.565
  dimension "d53" = 1.955
extrude "Extrude13" cut sketch "Sketch9" against normal blind 5.8 contours A8 L11 L15 A12 L16 L17 L18
ref_plane "WorkPlane1" through (-30.3555, 19.7097, 26) normal (0.9383, -0.3459, 0) x (0.3459, 0.9383, 0)
sketch "Sketch10" plane through (-33.1202, 12.2109, 0) normal (0.9383, -0.3459, 0) x (0.3459, 0.9383, 0)
  line L0 (-2.4554, 20.2) -> (-2.4554, 26)
  line L1 (6.7581, 20.2) -> (-2.4554, 20.2)
  line L2 (7.9922, 20.2) -> (6.7581, 20.2)
  line L3 (7.9922, 26) -> (7.9922, 20.2)
  arc A0 (-2.4554, 20.2) -> (7.9922, 20.2) centre (2.7684, 20.2) ccw
extrude "Extrude14" cut sketch "Sketch10" along normal up to surface end surface through (-36.4457, 10.9357, 26) normal (0.911992, -0.410207, 0) offset 0
sketch "Sketch11" plane through (-34.4041, 15.4747, 0) normal (0.912, -0.4102, 0) x (0.4102, 0.912, 0)
  line L0 (5.523, 26) -> (-4.977, 26)
  line L1 (-4.977, 26) -> (-4.977, 20.2)
  line L2 (-4.977, 20.2) -> (-5.0858, 20.2)
  ellipse E0 centre (0.1506, 20.2) end of major axis (-5.0858, 20.2) minor radius 5.2238 (-5.0858, 20.2) -> (5.387, 20.2) ccw
  line L3 (5.387, 20.2) -> (5.523, 20.2)
  line L4 (5.523, 20.2) -> (5.523, 26)
  circle A0 centre (2.622, 23.4) radius 0.6
  circle A1 centre (0.304, 23.4) radius 0.6
  circle A2 centre (-2.014, 23.4) radius 0.6
  circle A3 centre (2.622, 20.9) radius 0.6
  circle A4 centre (0.304, 20.9) radius 0.6
  circle A5 centre (-2.014, 20.9) radius 0.6
  circle A6 centre (2.622, 18.4) radius 0.6
  circle A7 centre (0.304, 18.4) radius 0.6
  circle A8 centre (-2.014, 18.4) radius 0.6
  dimension "d59" = 1.2
  dimension "d60" = 2.6
  dimension "d61" = 2.901
  dimension "d62" = 1.2
  dimension "d63" = 1.2
  dimension "d64" = 2.318
  dimension "d65" = 2.318
  dimension "d68" = 0
  dimension "d69" = -5
extrude "Extrude15" cut sketch "Sketch11" against normal through all contours A0 | A1 | A2 | A3 | A4 | A5 | A6 | A7 | A8
equation "d9 = 23.5 mm + 2.5 mm"
